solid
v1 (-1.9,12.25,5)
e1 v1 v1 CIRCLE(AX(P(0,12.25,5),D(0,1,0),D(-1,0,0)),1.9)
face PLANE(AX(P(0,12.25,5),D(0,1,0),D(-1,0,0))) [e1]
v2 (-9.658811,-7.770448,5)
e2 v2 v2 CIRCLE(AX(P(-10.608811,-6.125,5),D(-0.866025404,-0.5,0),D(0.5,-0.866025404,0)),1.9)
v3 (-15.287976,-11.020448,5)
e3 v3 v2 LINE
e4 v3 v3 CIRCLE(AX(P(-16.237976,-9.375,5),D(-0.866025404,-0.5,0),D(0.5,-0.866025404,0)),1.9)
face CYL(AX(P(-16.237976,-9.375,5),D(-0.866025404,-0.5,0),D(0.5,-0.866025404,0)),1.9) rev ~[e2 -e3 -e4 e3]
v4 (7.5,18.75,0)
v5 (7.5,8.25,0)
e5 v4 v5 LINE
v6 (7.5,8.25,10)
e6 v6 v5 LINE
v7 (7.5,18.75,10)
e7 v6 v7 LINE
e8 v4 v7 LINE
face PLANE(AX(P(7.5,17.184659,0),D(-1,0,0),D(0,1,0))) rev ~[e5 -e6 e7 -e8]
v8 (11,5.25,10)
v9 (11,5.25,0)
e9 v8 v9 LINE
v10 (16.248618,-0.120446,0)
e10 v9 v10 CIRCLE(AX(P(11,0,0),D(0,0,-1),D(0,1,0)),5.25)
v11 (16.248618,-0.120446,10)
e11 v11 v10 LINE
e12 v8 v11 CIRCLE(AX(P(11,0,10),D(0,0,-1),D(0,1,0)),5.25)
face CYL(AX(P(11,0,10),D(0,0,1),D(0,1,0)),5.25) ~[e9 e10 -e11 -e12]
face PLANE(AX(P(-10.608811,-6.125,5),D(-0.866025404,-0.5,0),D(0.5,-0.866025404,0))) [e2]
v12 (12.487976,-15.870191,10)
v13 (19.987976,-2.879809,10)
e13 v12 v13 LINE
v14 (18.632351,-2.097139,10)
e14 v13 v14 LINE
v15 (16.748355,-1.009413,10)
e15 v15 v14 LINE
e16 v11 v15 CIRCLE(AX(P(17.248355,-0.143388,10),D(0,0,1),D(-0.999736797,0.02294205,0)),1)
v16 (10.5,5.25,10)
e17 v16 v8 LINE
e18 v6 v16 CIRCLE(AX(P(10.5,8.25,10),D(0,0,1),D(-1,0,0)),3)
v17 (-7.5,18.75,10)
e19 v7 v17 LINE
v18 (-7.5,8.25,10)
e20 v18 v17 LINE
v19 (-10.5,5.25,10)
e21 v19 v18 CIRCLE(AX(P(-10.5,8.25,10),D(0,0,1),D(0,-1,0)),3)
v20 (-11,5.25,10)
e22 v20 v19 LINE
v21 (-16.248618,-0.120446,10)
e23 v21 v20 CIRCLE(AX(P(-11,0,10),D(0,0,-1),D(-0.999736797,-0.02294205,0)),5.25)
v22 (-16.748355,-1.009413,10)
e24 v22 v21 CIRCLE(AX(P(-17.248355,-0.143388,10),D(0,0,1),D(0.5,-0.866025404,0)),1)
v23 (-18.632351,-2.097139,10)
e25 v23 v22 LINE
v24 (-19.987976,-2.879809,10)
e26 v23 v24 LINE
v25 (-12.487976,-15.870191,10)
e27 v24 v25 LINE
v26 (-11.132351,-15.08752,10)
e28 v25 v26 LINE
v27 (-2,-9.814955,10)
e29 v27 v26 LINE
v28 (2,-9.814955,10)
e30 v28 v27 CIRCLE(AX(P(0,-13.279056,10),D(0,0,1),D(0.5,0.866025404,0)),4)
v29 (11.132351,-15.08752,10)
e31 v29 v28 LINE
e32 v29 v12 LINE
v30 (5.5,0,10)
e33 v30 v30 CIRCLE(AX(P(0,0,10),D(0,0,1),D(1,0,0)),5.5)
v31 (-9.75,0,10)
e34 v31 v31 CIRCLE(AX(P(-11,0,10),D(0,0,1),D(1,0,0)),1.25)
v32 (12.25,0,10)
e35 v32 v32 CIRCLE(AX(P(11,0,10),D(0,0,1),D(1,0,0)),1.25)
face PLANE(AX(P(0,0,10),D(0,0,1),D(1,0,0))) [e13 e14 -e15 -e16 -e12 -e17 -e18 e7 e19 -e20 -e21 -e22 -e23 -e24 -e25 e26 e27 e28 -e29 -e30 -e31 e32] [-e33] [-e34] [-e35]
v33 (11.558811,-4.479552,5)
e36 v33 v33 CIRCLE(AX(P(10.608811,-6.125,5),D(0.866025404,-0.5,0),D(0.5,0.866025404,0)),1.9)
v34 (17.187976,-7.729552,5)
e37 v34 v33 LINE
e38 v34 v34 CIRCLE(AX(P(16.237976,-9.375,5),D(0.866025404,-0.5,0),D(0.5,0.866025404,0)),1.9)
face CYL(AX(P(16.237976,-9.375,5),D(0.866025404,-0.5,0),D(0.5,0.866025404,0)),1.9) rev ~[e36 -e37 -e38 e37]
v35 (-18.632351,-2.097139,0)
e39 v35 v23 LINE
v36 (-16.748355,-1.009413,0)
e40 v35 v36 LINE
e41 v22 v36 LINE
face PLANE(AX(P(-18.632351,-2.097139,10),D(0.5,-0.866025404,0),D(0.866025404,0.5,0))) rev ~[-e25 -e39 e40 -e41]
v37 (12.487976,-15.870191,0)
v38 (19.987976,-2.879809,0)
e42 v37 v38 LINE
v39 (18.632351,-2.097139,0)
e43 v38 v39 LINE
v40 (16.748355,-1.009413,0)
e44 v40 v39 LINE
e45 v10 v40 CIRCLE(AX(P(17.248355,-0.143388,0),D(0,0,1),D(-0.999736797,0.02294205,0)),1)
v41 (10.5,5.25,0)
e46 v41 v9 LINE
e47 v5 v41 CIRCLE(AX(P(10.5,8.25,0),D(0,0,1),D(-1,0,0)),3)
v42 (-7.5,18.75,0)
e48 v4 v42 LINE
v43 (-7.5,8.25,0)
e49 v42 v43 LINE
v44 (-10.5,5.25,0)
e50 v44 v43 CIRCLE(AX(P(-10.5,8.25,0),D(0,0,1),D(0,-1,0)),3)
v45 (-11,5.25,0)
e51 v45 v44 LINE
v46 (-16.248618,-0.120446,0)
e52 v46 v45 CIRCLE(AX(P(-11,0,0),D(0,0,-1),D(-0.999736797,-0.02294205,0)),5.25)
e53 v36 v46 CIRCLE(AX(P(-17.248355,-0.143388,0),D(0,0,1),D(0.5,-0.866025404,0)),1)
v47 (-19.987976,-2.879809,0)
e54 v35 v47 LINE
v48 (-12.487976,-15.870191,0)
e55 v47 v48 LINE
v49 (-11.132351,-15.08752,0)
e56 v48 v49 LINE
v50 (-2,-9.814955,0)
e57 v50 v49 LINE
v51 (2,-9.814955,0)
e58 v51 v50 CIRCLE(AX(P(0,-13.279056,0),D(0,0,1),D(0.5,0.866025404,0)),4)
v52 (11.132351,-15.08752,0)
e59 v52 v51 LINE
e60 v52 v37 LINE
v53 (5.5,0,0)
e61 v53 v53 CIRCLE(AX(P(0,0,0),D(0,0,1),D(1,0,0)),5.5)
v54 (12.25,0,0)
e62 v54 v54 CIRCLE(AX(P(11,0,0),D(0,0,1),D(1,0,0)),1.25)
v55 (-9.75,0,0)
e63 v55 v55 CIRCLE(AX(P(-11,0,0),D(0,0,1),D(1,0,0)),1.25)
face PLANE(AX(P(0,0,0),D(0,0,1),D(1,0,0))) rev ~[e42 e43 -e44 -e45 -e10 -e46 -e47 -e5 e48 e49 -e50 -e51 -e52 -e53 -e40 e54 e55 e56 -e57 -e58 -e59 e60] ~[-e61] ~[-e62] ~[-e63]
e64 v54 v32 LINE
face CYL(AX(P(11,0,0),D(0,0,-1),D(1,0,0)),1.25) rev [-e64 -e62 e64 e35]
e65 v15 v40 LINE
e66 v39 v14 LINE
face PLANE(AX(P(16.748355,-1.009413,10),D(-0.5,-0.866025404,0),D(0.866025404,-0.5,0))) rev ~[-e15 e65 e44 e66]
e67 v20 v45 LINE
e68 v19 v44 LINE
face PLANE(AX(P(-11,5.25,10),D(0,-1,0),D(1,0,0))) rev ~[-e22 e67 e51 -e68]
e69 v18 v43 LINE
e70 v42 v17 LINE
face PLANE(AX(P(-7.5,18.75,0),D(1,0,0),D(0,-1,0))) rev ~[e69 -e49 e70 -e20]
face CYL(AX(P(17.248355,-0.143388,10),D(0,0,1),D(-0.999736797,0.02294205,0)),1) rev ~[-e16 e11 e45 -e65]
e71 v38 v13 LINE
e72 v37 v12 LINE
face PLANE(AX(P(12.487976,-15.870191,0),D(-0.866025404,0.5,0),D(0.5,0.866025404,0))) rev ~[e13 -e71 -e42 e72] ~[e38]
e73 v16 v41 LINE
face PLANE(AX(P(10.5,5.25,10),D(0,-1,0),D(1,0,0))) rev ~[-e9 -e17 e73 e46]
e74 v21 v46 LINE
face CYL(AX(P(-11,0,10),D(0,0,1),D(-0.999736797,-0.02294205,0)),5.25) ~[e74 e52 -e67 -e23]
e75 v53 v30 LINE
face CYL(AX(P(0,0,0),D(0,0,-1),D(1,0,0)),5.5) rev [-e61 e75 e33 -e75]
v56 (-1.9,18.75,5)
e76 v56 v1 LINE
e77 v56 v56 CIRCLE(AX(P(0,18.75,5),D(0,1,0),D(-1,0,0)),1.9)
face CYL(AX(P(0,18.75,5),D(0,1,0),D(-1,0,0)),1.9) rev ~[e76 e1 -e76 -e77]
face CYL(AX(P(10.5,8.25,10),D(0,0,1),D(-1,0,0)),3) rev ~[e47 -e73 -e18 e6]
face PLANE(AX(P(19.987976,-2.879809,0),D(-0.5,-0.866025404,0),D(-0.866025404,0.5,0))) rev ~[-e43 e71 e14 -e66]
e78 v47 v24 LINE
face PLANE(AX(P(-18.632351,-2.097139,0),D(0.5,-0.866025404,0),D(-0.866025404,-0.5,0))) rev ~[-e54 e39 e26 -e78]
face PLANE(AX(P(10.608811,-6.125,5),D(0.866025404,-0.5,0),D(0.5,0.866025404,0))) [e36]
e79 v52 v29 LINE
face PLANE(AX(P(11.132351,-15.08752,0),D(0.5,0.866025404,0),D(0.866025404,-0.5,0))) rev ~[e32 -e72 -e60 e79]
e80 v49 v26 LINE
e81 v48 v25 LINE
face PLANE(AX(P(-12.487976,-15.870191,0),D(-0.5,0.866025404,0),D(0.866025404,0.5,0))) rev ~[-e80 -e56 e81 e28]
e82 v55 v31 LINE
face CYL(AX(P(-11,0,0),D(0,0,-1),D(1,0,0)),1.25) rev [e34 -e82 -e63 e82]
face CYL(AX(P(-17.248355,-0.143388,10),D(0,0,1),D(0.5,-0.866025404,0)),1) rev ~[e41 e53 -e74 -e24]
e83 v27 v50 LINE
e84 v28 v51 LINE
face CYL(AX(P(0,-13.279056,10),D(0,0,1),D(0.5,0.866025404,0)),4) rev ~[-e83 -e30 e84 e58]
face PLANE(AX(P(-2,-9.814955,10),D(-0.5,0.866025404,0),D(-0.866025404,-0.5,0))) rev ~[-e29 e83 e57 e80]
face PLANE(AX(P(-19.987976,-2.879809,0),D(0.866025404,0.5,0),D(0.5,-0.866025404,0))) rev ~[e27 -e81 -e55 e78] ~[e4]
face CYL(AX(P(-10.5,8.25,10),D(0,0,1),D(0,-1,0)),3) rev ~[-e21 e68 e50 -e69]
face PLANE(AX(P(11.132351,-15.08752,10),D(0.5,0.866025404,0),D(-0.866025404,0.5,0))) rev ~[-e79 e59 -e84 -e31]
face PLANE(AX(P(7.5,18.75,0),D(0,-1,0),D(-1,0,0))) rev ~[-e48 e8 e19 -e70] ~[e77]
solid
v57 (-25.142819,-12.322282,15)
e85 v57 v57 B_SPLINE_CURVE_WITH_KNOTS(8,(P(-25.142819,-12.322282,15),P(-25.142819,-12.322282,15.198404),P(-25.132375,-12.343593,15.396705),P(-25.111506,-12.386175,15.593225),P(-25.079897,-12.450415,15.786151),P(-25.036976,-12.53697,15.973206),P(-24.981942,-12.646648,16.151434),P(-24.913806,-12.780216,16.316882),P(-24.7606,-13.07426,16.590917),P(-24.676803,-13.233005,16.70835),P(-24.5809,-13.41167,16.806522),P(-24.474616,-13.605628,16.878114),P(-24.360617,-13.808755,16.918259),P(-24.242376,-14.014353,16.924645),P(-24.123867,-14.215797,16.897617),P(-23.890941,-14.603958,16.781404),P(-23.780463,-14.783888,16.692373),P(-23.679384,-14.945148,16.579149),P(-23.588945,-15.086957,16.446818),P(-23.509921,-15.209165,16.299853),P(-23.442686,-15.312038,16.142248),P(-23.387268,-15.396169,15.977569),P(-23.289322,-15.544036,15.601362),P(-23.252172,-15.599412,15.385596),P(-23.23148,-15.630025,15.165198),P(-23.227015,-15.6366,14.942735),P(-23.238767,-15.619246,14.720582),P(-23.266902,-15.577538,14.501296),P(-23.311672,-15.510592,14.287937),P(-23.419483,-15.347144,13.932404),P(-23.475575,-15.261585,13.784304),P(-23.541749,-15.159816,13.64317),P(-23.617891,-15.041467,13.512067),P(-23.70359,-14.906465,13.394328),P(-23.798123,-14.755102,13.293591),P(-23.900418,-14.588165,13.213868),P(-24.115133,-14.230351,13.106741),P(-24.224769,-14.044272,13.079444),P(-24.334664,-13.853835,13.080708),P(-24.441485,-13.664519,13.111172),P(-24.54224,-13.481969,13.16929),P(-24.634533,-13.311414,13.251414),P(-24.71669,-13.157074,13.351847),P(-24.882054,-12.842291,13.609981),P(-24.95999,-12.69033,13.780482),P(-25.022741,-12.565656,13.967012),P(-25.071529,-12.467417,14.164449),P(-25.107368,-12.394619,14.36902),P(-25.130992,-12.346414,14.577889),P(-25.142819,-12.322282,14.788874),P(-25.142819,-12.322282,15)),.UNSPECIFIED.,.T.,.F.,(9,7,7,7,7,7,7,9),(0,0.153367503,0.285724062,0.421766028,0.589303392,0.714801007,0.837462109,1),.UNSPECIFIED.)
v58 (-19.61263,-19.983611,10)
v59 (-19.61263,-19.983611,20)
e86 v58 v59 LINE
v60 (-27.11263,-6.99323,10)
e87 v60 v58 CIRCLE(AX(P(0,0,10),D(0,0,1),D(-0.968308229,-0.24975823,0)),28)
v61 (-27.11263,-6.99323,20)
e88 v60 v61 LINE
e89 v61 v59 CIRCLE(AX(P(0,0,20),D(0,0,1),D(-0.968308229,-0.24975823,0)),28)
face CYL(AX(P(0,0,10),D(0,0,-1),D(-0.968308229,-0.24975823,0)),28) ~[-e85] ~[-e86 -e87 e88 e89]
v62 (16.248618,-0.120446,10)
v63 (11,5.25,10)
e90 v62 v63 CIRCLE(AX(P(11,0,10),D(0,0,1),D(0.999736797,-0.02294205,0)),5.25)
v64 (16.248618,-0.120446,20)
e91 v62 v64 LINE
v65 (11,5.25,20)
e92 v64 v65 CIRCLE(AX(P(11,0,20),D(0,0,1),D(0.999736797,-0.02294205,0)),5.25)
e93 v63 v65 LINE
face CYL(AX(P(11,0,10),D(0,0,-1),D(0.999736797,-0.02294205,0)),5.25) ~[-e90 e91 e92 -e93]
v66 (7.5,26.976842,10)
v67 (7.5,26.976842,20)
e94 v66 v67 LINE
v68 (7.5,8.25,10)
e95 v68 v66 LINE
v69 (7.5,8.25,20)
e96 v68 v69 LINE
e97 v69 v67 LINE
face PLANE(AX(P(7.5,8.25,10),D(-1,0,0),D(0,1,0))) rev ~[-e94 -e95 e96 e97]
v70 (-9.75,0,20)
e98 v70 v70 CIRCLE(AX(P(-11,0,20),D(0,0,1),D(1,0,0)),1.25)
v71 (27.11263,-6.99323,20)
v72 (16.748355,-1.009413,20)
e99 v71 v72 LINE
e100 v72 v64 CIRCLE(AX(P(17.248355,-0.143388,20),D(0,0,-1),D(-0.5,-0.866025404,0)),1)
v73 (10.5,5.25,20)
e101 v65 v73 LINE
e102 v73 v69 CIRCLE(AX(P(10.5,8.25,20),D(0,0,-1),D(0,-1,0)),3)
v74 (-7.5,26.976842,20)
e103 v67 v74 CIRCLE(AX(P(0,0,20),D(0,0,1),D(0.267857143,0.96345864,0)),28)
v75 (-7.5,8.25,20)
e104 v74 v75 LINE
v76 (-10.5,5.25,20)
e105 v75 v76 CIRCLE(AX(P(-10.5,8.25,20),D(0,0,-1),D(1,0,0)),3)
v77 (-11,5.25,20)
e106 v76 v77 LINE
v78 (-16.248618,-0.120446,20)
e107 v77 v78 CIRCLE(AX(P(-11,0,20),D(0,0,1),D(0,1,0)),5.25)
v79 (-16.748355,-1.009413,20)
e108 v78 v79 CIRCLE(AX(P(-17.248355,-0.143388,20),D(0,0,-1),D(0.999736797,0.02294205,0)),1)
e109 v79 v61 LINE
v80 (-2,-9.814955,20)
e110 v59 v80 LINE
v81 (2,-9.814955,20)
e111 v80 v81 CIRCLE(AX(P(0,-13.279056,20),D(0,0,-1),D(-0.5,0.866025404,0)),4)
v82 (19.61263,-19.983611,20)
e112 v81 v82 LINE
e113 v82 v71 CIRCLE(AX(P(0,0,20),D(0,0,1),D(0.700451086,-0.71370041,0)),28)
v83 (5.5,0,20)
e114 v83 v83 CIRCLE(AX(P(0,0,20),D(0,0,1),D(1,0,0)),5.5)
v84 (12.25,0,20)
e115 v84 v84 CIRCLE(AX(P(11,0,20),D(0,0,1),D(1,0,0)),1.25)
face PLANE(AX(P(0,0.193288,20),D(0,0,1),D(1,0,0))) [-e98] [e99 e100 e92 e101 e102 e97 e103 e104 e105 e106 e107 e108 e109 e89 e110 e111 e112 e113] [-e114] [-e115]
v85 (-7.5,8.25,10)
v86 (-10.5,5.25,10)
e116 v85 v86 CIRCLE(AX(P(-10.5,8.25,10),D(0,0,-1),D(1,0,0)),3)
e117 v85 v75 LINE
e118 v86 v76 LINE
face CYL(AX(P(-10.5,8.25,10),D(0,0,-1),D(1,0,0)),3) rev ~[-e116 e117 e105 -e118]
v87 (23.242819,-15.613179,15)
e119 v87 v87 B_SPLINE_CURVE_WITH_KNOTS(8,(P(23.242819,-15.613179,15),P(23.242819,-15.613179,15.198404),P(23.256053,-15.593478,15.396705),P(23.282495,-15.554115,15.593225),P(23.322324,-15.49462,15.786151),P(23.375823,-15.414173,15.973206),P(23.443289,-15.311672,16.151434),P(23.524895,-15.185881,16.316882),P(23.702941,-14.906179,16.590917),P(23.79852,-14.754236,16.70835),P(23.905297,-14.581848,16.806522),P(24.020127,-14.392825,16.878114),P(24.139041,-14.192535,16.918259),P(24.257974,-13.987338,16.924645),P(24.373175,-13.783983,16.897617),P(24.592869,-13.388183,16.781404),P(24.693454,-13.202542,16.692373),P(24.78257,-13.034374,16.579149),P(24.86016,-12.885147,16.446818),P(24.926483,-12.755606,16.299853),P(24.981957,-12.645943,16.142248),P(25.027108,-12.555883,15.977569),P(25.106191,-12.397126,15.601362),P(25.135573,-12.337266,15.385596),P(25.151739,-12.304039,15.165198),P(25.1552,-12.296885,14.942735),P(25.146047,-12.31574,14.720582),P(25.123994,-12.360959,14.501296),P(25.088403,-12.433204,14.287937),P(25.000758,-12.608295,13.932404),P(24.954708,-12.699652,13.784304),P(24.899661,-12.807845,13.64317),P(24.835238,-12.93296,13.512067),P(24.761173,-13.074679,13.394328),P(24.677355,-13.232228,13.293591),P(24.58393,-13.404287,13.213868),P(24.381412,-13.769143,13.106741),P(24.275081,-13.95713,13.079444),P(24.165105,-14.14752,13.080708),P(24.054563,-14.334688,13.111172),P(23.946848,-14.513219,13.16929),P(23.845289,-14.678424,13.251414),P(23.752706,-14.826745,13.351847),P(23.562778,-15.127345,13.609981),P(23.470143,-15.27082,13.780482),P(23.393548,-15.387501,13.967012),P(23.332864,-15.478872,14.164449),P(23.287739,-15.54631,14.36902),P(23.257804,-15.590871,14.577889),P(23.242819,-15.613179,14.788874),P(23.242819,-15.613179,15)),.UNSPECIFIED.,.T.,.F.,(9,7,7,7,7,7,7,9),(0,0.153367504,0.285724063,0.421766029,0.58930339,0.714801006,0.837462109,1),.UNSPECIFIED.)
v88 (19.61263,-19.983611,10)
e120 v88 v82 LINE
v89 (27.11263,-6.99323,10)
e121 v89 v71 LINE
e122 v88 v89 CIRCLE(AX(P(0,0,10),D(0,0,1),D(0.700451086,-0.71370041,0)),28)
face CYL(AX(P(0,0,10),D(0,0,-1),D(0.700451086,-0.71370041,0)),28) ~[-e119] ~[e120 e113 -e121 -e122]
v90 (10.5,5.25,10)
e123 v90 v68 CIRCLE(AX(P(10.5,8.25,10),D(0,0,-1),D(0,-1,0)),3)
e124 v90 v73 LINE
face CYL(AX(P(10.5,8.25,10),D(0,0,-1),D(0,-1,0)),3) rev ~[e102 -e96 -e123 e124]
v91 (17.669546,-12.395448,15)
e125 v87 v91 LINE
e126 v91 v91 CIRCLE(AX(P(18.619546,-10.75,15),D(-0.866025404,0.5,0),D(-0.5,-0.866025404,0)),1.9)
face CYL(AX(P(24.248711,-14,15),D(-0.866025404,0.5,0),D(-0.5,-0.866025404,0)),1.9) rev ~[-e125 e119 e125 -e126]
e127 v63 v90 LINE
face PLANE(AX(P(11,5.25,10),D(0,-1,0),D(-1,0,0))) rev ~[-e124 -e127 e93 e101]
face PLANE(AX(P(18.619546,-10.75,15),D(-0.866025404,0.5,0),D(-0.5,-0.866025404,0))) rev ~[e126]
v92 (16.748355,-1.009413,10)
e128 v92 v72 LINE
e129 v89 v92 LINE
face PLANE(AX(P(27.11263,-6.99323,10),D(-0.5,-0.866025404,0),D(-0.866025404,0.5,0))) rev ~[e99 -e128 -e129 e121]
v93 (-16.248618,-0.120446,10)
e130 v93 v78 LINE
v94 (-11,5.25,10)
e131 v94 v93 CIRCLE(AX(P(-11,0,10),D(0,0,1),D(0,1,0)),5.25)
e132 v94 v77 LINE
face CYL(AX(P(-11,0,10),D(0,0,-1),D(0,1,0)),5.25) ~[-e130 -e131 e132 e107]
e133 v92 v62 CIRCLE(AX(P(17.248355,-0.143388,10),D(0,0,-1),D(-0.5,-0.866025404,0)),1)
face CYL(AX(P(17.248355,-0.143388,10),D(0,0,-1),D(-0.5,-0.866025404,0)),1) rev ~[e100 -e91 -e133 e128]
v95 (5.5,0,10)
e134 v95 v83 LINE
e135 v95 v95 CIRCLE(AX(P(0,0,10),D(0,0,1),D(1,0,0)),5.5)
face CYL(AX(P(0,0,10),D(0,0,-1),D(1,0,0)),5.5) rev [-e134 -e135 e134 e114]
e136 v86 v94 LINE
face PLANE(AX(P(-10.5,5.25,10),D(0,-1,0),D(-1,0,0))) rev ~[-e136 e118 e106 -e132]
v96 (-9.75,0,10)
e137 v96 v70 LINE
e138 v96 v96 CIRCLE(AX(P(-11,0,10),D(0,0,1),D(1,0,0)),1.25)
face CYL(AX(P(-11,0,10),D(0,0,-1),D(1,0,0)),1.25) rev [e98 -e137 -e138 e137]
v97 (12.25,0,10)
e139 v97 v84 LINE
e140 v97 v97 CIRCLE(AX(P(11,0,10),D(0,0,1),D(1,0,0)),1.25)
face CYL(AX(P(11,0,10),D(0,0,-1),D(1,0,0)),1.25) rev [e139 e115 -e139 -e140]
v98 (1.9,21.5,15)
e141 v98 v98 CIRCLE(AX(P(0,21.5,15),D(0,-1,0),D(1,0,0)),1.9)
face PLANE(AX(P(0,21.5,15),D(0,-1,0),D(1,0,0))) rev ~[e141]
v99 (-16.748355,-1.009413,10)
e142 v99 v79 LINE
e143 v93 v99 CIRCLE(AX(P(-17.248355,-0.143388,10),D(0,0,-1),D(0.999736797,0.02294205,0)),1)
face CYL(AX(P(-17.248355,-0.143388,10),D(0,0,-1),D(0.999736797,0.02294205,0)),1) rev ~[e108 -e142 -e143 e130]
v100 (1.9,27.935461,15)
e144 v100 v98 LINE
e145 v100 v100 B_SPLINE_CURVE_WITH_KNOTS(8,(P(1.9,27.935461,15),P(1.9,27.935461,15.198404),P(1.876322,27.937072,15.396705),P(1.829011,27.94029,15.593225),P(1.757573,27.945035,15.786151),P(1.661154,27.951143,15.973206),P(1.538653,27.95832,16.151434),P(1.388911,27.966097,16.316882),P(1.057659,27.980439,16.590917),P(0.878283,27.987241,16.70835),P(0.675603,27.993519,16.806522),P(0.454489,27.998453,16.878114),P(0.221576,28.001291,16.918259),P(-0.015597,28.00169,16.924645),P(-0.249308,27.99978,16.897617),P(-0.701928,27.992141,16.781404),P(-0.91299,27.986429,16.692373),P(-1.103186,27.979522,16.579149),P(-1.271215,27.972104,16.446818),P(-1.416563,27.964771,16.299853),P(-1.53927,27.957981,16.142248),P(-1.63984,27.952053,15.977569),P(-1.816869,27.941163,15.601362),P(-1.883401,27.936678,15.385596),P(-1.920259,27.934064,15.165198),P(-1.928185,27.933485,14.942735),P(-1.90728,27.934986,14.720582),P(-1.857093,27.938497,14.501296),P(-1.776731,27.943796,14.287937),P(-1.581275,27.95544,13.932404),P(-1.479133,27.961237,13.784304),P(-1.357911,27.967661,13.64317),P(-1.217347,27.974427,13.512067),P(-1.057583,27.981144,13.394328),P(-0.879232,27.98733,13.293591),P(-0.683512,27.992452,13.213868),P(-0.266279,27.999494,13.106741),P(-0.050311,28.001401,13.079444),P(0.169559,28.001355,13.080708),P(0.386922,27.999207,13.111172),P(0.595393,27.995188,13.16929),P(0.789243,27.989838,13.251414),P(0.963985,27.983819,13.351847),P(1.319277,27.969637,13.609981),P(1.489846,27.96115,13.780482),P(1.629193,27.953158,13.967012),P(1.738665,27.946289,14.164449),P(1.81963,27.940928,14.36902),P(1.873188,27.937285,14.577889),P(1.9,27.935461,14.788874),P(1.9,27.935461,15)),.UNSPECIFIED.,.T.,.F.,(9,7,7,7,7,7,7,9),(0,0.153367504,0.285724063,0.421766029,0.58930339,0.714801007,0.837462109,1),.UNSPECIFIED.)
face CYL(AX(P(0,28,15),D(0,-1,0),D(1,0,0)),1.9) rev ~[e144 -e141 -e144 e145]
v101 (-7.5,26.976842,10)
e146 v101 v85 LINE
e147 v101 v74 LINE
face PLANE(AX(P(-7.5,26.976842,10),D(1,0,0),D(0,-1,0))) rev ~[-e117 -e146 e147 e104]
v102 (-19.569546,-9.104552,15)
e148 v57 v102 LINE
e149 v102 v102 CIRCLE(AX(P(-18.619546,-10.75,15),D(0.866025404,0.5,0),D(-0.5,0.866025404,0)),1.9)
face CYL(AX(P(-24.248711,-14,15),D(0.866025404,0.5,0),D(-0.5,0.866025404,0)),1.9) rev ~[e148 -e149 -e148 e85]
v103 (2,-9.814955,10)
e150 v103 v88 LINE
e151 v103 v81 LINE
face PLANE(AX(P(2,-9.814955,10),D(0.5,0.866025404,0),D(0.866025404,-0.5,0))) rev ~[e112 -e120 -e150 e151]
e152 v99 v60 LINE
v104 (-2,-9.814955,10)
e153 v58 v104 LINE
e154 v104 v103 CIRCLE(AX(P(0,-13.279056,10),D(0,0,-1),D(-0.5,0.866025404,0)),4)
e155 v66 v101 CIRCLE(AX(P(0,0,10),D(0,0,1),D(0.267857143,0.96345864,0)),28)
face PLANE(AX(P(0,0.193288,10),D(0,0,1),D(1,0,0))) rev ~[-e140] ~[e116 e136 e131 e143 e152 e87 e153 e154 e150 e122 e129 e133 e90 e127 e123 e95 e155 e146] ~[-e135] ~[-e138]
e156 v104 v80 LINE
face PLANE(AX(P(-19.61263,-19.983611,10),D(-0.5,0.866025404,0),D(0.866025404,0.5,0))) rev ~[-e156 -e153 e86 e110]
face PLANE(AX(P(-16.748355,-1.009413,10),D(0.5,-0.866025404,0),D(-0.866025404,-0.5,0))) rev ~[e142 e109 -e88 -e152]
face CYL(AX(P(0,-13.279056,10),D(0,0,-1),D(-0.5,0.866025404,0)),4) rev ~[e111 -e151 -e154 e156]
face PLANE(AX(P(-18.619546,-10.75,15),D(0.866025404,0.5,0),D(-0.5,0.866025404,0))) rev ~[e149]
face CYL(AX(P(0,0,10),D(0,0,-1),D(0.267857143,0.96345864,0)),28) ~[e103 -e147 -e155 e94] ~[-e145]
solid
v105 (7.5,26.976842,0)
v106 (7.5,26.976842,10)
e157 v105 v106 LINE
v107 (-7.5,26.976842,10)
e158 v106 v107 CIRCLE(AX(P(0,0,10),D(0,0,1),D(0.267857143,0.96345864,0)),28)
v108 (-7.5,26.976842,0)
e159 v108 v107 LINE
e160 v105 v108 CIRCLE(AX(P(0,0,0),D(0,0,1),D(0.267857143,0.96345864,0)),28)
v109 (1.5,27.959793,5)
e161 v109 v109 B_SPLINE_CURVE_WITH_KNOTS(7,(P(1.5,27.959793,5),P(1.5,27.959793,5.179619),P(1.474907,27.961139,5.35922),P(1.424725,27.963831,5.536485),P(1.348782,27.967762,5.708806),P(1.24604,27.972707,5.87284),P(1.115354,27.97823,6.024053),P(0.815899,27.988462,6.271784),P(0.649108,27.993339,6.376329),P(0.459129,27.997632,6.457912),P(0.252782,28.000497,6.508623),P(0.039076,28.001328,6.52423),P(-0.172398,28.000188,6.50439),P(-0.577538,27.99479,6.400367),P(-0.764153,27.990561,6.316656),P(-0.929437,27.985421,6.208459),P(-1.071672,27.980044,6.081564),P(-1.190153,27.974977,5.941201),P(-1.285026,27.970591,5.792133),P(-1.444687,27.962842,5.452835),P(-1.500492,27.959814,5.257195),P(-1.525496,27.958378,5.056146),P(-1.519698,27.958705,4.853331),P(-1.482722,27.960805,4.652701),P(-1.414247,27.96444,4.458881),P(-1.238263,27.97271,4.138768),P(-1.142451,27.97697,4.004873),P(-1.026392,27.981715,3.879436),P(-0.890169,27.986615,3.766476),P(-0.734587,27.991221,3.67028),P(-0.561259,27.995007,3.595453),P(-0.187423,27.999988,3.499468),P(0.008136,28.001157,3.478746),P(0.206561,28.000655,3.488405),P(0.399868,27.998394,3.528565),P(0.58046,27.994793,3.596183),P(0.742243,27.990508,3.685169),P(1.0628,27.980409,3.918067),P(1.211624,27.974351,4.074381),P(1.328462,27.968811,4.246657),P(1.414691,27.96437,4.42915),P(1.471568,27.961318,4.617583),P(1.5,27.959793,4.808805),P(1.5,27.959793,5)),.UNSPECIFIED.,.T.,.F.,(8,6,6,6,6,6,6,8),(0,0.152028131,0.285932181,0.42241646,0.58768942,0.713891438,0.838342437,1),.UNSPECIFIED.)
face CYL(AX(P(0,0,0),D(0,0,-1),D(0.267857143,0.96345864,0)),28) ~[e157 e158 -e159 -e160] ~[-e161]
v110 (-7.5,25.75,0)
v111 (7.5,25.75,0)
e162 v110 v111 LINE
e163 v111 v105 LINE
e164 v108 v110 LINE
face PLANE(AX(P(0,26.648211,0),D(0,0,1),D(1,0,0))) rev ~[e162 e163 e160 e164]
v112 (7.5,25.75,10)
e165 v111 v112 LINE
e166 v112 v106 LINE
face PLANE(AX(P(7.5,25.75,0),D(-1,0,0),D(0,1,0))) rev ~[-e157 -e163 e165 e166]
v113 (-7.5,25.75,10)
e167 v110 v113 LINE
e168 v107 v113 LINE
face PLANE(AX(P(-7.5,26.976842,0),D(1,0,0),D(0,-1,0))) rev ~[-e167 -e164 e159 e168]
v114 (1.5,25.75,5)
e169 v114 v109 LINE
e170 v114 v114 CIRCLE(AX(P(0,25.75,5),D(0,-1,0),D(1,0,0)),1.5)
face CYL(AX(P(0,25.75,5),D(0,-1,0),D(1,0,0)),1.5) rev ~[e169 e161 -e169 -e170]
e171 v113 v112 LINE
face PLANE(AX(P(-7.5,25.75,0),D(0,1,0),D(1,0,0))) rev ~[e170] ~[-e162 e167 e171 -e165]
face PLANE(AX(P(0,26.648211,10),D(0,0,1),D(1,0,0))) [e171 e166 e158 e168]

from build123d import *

# Parameters (mm, degrees)
F1_DEPTH  = 10
F0_R      = 1.25
F0_R_2    = 5.5
F2_R      = 1.9
F3_DEPTH  = 6.5
F4_COUNT  = 3
F6_R      = 1.5
F7_DEPTH  = 2.25
F9_DEPTH  = 10
F10_R     = 1.25
F10_R_2   = 5.5
F11_DEPTH = 10
F14_R     = 1.9
F15_DEPTH = 6.5
F16_COUNT = 3


with BuildPart() as f1:
    # F0 (on Top) → F1 (new body)
    with BuildSketch(Plane.XY):
        with BuildLine():
            Line((7.5, 25.75), (7.5, 26.9768419204))
            ThreePointArc((7.5, 26.9768419204), (0, 28), (-7.5, 26.9768419204))
            Line((-7.5, 26.9768419204), (-7.5, 25.75))
            Line((-7.5, 25.75), (7.5, 25.75))
        make_face()
    extrude(amount=F1_DEPTH)

    # F6 (on face) → F7 (cut, through all)
    with BuildSketch(Plane.XZ.offset(-25.75)):
        with Locations((0, 5)):
            Circle(F6_R)
    extrude(amount=-F7_DEPTH, mode=Mode.SUBTRACT)


with BuildPart() as f1b:
    # F0 (on Top) → F1, piece 2 (new body)
    with BuildSketch(Plane.XY):
        with BuildLine():
            Line((-7.5, 18.75), (-7.5, 17.1846588561))
            ThreePointArc((-7.5, 17.1846588561), (-16.237976321, 9.375), (-18.6323511247, -2.0971388997))
            Line((-18.6323511247, -2.0971388997), (-19.987976321, -2.8798094716))
            Line((-19.987976321, -2.8798094716), (-12.487976321, -15.8701905284))
            Line((-12.487976321, -15.8701905284), (-11.1323511247, -15.0875199564))
            ThreePointArc((-11.1323511247, -15.0875199564), (0, -18.75), (11.1323511247, -15.0875199564))
            Line((11.1323511247, -15.0875199564), (12.487976321, -15.8701905284))
            Line((12.487976321, -15.8701905284), (19.987976321, -2.8798094716))
            Line((19.987976321, -2.8798094716), (18.6323511247, -2.0971388997))
            ThreePointArc((18.6323511247, -2.0971388997), (16.237976321, 9.375), (7.5, 17.1846588561))
            Line((7.5, 17.1846588561), (7.5, 18.75))
            Line((7.5, 18.75), (-7.5, 18.75))
        make_face()
        with Locations((-11, 0)):
            Circle(F0_R, mode=Mode.SUBTRACT)
        Circle(F0_R_2, mode=Mode.SUBTRACT)
        with Locations((11, 0)):
            Circle(F0_R, mode=Mode.SUBTRACT)
    extrude(amount=F1_DEPTH)


with BuildPart() as f3:
    # F2 (on face) → F3 (new body)
    with BuildSketch(Plane(origin=(-16.237976321, -9.375, 0), x_dir=(0.5, -0.8660254038, 0), z_dir=(-0.8660254038, -0.5, 0))):
        with Locations((0, 5)):
            Circle(F2_R)
    extrude(amount=-F3_DEPTH)


with BuildPart() as f4_1:
    # F4: instance of F3
    add(f3.part.rotate(Axis((0, 0, 0), (0, 0, -1)), 1 * 360 / F4_COUNT))


with BuildPart() as f4_2:
    # F4: instance of F3
    add(f3.part.rotate(Axis((0, 0, 0), (0, 0, -1)), 2 * 360 / F4_COUNT))


with BuildPart() as f1b_1:
    add(f1b.part)

    # F5: cut F3, F4_1, F4_2
    add(f3.part, mode=Mode.SUBTRACT)
    add(f4_1.part, mode=Mode.SUBTRACT)
    add(f4_2.part, mode=Mode.SUBTRACT)

    # F8 (on face) → F9 (cut, through all)
    with BuildSketch(Plane.XY.offset(10)):
        with BuildLine():
            ThreePointArc((-16.2486181818, -0.1204457634), (-14.7546531303, 3.6694795096), (-11, 5.25))
            Line((-11, 5.25), (-10.5, 5.25))
            ThreePointArc((-10.5, 5.25), (-8.3786796564, 6.1286796564), (-7.5, 8.25))
            Line((-7.5, 8.25), (-7.5, 17.1846588561))
            ThreePointArc((-7.5, 17.1846588561), (-16.237976321, 9.375), (-18.6323511247, -2.0971388997))
            Line((-18.6323511247, -2.0971388997), (-16.7483549783, -1.0094132174))
            ThreePointArc((-16.7483549783, -1.0094132174), (-16.3766506716, -0.6334200592), (-16.2486181818, -0.1204457634))
        make_face()
        with BuildLine():
            ThreePointArc((11, 5.25), (14.7546531303, 3.6694795096), (16.2486181818, -0.1204457634))
            ThreePointArc((16.2486181818, -0.1204457634), (16.3766506716, -0.6334200592), (16.7483549783, -1.0094132174))
            Line((16.7483549783, -1.0094132174), (18.6323511247, -2.0971388997))
            ThreePointArc((18.6323511247, -2.0971388997), (16.237976321, 9.375), (7.5, 17.1846588561))
            Line((7.5, 17.1846588561), (7.5, 8.25))
            ThreePointArc((7.5, 8.25), (8.3786796564, 6.1286796564), (10.5, 5.25))
            Line((10.5, 5.25), (11, 5.25))
        make_face()
        with BuildLine():
            Line((-2, -9.8149545762), (-11.1323511247, -15.0875199564))
            ThreePointArc((-11.1323511247, -15.0875199564), (0, -18.75), (11.1323511247, -15.0875199564))
            Line((11.1323511247, -15.0875199564), (2, -9.8149545762))
            ThreePointArc((2, -9.8149545762), (0, -9.2790561914), (-2, -9.8149545762))
        make_face()
    extrude(amount=-F9_DEPTH, mode=Mode.SUBTRACT)


with BuildPart() as f11:
    # F10 (on face) → F11 (new body)
    with BuildSketch(Plane.XY.offset(10)):
        with BuildLine():
            Line((-16.7483549783, -1.0094132174), (-27.112630417, -6.9932304318))
            ThreePointArc((-27.112630417, -6.9932304318), (-24.248711306, -14), (-19.612630417, -19.9836114886))
            Line((-19.612630417, -19.9836114886), (-2, -9.8149545762))
            ThreePointArc((-2, -9.8149545762), (0, -9.2790561914), (2, -9.8149545762))
            Line((2, -9.8149545762), (19.612630417, -19.9836114886))
            ThreePointArc((19.612630417, -19.9836114886), (24.248711306, -14), (27.112630417, -6.9932304318))
            Line((27.112630417, -6.9932304318), (16.7483549783, -1.0094132174))
            ThreePointArc((16.7483549783, -1.0094132174), (16.3766506716, -0.6334200592), (16.2486181818, -0.1204457634))
            ThreePointArc((16.2486181818, -0.1204457634), (14.7546531303, 3.6694795096), (11, 5.25))
            Line((11, 5.25), (10.5, 5.25))
            ThreePointArc((10.5, 5.25), (8.3786796564, 6.1286796564), (7.5, 8.25))
            Line((7.5, 8.25), (7.5, 26.9768419204))
            ThreePointArc((7.5, 26.9768419204), (0, 28), (-7.5, 26.9768419204))
            Line((-7.5, 26.9768419204), (-7.5, 8.25))
            ThreePointArc((-7.5, 8.25), (-8.3786796564, 6.1286796564), (-10.5, 5.25))
            Line((-10.5, 5.25), (-11, 5.25))
            ThreePointArc((-11, 5.25), (-14.7546531303, 3.6694795096), (-16.2486181818, -0.1204457634))
            ThreePointArc((-16.2486181818, -0.1204457634), (-16.3766506716, -0.6334200592), (-16.7483549783, -1.0094132174))
        make_face()
        with Locations((-11, 0)):
            Circle(F10_R, mode=Mode.SUBTRACT)
        Circle(F10_R_2, mode=Mode.SUBTRACT)
        with Locations((11, 0)):
            Circle(F10_R, mode=Mode.SUBTRACT)
    extrude(amount=F11_DEPTH)

    # F16: F15 ×3 about axis
    f16_axis = Axis((0, 0, 10), (0, 0, -1))


with BuildPart() as f15:
    # F14 (on plane+point) → F15 (new body, symmetric)
    with BuildSketch(Plane.XZ.offset(-28)):
        with Locations((0, 15)):
            Circle(F14_R)
    extrude(amount=F15_DEPTH, both=True)


with BuildPart() as f11_1:
    add(f11.part)
    for i in range(1, F16_COUNT):
        add(f15.part.rotate(f16_axis, i * 360 / F16_COUNT), mode=Mode.SUBTRACT)

    # F16#seed: cut F15
    add(f15.part, mode=Mode.SUBTRACT)


solid = Compound([f1.part, f1b_1.part, f11_1.part])
